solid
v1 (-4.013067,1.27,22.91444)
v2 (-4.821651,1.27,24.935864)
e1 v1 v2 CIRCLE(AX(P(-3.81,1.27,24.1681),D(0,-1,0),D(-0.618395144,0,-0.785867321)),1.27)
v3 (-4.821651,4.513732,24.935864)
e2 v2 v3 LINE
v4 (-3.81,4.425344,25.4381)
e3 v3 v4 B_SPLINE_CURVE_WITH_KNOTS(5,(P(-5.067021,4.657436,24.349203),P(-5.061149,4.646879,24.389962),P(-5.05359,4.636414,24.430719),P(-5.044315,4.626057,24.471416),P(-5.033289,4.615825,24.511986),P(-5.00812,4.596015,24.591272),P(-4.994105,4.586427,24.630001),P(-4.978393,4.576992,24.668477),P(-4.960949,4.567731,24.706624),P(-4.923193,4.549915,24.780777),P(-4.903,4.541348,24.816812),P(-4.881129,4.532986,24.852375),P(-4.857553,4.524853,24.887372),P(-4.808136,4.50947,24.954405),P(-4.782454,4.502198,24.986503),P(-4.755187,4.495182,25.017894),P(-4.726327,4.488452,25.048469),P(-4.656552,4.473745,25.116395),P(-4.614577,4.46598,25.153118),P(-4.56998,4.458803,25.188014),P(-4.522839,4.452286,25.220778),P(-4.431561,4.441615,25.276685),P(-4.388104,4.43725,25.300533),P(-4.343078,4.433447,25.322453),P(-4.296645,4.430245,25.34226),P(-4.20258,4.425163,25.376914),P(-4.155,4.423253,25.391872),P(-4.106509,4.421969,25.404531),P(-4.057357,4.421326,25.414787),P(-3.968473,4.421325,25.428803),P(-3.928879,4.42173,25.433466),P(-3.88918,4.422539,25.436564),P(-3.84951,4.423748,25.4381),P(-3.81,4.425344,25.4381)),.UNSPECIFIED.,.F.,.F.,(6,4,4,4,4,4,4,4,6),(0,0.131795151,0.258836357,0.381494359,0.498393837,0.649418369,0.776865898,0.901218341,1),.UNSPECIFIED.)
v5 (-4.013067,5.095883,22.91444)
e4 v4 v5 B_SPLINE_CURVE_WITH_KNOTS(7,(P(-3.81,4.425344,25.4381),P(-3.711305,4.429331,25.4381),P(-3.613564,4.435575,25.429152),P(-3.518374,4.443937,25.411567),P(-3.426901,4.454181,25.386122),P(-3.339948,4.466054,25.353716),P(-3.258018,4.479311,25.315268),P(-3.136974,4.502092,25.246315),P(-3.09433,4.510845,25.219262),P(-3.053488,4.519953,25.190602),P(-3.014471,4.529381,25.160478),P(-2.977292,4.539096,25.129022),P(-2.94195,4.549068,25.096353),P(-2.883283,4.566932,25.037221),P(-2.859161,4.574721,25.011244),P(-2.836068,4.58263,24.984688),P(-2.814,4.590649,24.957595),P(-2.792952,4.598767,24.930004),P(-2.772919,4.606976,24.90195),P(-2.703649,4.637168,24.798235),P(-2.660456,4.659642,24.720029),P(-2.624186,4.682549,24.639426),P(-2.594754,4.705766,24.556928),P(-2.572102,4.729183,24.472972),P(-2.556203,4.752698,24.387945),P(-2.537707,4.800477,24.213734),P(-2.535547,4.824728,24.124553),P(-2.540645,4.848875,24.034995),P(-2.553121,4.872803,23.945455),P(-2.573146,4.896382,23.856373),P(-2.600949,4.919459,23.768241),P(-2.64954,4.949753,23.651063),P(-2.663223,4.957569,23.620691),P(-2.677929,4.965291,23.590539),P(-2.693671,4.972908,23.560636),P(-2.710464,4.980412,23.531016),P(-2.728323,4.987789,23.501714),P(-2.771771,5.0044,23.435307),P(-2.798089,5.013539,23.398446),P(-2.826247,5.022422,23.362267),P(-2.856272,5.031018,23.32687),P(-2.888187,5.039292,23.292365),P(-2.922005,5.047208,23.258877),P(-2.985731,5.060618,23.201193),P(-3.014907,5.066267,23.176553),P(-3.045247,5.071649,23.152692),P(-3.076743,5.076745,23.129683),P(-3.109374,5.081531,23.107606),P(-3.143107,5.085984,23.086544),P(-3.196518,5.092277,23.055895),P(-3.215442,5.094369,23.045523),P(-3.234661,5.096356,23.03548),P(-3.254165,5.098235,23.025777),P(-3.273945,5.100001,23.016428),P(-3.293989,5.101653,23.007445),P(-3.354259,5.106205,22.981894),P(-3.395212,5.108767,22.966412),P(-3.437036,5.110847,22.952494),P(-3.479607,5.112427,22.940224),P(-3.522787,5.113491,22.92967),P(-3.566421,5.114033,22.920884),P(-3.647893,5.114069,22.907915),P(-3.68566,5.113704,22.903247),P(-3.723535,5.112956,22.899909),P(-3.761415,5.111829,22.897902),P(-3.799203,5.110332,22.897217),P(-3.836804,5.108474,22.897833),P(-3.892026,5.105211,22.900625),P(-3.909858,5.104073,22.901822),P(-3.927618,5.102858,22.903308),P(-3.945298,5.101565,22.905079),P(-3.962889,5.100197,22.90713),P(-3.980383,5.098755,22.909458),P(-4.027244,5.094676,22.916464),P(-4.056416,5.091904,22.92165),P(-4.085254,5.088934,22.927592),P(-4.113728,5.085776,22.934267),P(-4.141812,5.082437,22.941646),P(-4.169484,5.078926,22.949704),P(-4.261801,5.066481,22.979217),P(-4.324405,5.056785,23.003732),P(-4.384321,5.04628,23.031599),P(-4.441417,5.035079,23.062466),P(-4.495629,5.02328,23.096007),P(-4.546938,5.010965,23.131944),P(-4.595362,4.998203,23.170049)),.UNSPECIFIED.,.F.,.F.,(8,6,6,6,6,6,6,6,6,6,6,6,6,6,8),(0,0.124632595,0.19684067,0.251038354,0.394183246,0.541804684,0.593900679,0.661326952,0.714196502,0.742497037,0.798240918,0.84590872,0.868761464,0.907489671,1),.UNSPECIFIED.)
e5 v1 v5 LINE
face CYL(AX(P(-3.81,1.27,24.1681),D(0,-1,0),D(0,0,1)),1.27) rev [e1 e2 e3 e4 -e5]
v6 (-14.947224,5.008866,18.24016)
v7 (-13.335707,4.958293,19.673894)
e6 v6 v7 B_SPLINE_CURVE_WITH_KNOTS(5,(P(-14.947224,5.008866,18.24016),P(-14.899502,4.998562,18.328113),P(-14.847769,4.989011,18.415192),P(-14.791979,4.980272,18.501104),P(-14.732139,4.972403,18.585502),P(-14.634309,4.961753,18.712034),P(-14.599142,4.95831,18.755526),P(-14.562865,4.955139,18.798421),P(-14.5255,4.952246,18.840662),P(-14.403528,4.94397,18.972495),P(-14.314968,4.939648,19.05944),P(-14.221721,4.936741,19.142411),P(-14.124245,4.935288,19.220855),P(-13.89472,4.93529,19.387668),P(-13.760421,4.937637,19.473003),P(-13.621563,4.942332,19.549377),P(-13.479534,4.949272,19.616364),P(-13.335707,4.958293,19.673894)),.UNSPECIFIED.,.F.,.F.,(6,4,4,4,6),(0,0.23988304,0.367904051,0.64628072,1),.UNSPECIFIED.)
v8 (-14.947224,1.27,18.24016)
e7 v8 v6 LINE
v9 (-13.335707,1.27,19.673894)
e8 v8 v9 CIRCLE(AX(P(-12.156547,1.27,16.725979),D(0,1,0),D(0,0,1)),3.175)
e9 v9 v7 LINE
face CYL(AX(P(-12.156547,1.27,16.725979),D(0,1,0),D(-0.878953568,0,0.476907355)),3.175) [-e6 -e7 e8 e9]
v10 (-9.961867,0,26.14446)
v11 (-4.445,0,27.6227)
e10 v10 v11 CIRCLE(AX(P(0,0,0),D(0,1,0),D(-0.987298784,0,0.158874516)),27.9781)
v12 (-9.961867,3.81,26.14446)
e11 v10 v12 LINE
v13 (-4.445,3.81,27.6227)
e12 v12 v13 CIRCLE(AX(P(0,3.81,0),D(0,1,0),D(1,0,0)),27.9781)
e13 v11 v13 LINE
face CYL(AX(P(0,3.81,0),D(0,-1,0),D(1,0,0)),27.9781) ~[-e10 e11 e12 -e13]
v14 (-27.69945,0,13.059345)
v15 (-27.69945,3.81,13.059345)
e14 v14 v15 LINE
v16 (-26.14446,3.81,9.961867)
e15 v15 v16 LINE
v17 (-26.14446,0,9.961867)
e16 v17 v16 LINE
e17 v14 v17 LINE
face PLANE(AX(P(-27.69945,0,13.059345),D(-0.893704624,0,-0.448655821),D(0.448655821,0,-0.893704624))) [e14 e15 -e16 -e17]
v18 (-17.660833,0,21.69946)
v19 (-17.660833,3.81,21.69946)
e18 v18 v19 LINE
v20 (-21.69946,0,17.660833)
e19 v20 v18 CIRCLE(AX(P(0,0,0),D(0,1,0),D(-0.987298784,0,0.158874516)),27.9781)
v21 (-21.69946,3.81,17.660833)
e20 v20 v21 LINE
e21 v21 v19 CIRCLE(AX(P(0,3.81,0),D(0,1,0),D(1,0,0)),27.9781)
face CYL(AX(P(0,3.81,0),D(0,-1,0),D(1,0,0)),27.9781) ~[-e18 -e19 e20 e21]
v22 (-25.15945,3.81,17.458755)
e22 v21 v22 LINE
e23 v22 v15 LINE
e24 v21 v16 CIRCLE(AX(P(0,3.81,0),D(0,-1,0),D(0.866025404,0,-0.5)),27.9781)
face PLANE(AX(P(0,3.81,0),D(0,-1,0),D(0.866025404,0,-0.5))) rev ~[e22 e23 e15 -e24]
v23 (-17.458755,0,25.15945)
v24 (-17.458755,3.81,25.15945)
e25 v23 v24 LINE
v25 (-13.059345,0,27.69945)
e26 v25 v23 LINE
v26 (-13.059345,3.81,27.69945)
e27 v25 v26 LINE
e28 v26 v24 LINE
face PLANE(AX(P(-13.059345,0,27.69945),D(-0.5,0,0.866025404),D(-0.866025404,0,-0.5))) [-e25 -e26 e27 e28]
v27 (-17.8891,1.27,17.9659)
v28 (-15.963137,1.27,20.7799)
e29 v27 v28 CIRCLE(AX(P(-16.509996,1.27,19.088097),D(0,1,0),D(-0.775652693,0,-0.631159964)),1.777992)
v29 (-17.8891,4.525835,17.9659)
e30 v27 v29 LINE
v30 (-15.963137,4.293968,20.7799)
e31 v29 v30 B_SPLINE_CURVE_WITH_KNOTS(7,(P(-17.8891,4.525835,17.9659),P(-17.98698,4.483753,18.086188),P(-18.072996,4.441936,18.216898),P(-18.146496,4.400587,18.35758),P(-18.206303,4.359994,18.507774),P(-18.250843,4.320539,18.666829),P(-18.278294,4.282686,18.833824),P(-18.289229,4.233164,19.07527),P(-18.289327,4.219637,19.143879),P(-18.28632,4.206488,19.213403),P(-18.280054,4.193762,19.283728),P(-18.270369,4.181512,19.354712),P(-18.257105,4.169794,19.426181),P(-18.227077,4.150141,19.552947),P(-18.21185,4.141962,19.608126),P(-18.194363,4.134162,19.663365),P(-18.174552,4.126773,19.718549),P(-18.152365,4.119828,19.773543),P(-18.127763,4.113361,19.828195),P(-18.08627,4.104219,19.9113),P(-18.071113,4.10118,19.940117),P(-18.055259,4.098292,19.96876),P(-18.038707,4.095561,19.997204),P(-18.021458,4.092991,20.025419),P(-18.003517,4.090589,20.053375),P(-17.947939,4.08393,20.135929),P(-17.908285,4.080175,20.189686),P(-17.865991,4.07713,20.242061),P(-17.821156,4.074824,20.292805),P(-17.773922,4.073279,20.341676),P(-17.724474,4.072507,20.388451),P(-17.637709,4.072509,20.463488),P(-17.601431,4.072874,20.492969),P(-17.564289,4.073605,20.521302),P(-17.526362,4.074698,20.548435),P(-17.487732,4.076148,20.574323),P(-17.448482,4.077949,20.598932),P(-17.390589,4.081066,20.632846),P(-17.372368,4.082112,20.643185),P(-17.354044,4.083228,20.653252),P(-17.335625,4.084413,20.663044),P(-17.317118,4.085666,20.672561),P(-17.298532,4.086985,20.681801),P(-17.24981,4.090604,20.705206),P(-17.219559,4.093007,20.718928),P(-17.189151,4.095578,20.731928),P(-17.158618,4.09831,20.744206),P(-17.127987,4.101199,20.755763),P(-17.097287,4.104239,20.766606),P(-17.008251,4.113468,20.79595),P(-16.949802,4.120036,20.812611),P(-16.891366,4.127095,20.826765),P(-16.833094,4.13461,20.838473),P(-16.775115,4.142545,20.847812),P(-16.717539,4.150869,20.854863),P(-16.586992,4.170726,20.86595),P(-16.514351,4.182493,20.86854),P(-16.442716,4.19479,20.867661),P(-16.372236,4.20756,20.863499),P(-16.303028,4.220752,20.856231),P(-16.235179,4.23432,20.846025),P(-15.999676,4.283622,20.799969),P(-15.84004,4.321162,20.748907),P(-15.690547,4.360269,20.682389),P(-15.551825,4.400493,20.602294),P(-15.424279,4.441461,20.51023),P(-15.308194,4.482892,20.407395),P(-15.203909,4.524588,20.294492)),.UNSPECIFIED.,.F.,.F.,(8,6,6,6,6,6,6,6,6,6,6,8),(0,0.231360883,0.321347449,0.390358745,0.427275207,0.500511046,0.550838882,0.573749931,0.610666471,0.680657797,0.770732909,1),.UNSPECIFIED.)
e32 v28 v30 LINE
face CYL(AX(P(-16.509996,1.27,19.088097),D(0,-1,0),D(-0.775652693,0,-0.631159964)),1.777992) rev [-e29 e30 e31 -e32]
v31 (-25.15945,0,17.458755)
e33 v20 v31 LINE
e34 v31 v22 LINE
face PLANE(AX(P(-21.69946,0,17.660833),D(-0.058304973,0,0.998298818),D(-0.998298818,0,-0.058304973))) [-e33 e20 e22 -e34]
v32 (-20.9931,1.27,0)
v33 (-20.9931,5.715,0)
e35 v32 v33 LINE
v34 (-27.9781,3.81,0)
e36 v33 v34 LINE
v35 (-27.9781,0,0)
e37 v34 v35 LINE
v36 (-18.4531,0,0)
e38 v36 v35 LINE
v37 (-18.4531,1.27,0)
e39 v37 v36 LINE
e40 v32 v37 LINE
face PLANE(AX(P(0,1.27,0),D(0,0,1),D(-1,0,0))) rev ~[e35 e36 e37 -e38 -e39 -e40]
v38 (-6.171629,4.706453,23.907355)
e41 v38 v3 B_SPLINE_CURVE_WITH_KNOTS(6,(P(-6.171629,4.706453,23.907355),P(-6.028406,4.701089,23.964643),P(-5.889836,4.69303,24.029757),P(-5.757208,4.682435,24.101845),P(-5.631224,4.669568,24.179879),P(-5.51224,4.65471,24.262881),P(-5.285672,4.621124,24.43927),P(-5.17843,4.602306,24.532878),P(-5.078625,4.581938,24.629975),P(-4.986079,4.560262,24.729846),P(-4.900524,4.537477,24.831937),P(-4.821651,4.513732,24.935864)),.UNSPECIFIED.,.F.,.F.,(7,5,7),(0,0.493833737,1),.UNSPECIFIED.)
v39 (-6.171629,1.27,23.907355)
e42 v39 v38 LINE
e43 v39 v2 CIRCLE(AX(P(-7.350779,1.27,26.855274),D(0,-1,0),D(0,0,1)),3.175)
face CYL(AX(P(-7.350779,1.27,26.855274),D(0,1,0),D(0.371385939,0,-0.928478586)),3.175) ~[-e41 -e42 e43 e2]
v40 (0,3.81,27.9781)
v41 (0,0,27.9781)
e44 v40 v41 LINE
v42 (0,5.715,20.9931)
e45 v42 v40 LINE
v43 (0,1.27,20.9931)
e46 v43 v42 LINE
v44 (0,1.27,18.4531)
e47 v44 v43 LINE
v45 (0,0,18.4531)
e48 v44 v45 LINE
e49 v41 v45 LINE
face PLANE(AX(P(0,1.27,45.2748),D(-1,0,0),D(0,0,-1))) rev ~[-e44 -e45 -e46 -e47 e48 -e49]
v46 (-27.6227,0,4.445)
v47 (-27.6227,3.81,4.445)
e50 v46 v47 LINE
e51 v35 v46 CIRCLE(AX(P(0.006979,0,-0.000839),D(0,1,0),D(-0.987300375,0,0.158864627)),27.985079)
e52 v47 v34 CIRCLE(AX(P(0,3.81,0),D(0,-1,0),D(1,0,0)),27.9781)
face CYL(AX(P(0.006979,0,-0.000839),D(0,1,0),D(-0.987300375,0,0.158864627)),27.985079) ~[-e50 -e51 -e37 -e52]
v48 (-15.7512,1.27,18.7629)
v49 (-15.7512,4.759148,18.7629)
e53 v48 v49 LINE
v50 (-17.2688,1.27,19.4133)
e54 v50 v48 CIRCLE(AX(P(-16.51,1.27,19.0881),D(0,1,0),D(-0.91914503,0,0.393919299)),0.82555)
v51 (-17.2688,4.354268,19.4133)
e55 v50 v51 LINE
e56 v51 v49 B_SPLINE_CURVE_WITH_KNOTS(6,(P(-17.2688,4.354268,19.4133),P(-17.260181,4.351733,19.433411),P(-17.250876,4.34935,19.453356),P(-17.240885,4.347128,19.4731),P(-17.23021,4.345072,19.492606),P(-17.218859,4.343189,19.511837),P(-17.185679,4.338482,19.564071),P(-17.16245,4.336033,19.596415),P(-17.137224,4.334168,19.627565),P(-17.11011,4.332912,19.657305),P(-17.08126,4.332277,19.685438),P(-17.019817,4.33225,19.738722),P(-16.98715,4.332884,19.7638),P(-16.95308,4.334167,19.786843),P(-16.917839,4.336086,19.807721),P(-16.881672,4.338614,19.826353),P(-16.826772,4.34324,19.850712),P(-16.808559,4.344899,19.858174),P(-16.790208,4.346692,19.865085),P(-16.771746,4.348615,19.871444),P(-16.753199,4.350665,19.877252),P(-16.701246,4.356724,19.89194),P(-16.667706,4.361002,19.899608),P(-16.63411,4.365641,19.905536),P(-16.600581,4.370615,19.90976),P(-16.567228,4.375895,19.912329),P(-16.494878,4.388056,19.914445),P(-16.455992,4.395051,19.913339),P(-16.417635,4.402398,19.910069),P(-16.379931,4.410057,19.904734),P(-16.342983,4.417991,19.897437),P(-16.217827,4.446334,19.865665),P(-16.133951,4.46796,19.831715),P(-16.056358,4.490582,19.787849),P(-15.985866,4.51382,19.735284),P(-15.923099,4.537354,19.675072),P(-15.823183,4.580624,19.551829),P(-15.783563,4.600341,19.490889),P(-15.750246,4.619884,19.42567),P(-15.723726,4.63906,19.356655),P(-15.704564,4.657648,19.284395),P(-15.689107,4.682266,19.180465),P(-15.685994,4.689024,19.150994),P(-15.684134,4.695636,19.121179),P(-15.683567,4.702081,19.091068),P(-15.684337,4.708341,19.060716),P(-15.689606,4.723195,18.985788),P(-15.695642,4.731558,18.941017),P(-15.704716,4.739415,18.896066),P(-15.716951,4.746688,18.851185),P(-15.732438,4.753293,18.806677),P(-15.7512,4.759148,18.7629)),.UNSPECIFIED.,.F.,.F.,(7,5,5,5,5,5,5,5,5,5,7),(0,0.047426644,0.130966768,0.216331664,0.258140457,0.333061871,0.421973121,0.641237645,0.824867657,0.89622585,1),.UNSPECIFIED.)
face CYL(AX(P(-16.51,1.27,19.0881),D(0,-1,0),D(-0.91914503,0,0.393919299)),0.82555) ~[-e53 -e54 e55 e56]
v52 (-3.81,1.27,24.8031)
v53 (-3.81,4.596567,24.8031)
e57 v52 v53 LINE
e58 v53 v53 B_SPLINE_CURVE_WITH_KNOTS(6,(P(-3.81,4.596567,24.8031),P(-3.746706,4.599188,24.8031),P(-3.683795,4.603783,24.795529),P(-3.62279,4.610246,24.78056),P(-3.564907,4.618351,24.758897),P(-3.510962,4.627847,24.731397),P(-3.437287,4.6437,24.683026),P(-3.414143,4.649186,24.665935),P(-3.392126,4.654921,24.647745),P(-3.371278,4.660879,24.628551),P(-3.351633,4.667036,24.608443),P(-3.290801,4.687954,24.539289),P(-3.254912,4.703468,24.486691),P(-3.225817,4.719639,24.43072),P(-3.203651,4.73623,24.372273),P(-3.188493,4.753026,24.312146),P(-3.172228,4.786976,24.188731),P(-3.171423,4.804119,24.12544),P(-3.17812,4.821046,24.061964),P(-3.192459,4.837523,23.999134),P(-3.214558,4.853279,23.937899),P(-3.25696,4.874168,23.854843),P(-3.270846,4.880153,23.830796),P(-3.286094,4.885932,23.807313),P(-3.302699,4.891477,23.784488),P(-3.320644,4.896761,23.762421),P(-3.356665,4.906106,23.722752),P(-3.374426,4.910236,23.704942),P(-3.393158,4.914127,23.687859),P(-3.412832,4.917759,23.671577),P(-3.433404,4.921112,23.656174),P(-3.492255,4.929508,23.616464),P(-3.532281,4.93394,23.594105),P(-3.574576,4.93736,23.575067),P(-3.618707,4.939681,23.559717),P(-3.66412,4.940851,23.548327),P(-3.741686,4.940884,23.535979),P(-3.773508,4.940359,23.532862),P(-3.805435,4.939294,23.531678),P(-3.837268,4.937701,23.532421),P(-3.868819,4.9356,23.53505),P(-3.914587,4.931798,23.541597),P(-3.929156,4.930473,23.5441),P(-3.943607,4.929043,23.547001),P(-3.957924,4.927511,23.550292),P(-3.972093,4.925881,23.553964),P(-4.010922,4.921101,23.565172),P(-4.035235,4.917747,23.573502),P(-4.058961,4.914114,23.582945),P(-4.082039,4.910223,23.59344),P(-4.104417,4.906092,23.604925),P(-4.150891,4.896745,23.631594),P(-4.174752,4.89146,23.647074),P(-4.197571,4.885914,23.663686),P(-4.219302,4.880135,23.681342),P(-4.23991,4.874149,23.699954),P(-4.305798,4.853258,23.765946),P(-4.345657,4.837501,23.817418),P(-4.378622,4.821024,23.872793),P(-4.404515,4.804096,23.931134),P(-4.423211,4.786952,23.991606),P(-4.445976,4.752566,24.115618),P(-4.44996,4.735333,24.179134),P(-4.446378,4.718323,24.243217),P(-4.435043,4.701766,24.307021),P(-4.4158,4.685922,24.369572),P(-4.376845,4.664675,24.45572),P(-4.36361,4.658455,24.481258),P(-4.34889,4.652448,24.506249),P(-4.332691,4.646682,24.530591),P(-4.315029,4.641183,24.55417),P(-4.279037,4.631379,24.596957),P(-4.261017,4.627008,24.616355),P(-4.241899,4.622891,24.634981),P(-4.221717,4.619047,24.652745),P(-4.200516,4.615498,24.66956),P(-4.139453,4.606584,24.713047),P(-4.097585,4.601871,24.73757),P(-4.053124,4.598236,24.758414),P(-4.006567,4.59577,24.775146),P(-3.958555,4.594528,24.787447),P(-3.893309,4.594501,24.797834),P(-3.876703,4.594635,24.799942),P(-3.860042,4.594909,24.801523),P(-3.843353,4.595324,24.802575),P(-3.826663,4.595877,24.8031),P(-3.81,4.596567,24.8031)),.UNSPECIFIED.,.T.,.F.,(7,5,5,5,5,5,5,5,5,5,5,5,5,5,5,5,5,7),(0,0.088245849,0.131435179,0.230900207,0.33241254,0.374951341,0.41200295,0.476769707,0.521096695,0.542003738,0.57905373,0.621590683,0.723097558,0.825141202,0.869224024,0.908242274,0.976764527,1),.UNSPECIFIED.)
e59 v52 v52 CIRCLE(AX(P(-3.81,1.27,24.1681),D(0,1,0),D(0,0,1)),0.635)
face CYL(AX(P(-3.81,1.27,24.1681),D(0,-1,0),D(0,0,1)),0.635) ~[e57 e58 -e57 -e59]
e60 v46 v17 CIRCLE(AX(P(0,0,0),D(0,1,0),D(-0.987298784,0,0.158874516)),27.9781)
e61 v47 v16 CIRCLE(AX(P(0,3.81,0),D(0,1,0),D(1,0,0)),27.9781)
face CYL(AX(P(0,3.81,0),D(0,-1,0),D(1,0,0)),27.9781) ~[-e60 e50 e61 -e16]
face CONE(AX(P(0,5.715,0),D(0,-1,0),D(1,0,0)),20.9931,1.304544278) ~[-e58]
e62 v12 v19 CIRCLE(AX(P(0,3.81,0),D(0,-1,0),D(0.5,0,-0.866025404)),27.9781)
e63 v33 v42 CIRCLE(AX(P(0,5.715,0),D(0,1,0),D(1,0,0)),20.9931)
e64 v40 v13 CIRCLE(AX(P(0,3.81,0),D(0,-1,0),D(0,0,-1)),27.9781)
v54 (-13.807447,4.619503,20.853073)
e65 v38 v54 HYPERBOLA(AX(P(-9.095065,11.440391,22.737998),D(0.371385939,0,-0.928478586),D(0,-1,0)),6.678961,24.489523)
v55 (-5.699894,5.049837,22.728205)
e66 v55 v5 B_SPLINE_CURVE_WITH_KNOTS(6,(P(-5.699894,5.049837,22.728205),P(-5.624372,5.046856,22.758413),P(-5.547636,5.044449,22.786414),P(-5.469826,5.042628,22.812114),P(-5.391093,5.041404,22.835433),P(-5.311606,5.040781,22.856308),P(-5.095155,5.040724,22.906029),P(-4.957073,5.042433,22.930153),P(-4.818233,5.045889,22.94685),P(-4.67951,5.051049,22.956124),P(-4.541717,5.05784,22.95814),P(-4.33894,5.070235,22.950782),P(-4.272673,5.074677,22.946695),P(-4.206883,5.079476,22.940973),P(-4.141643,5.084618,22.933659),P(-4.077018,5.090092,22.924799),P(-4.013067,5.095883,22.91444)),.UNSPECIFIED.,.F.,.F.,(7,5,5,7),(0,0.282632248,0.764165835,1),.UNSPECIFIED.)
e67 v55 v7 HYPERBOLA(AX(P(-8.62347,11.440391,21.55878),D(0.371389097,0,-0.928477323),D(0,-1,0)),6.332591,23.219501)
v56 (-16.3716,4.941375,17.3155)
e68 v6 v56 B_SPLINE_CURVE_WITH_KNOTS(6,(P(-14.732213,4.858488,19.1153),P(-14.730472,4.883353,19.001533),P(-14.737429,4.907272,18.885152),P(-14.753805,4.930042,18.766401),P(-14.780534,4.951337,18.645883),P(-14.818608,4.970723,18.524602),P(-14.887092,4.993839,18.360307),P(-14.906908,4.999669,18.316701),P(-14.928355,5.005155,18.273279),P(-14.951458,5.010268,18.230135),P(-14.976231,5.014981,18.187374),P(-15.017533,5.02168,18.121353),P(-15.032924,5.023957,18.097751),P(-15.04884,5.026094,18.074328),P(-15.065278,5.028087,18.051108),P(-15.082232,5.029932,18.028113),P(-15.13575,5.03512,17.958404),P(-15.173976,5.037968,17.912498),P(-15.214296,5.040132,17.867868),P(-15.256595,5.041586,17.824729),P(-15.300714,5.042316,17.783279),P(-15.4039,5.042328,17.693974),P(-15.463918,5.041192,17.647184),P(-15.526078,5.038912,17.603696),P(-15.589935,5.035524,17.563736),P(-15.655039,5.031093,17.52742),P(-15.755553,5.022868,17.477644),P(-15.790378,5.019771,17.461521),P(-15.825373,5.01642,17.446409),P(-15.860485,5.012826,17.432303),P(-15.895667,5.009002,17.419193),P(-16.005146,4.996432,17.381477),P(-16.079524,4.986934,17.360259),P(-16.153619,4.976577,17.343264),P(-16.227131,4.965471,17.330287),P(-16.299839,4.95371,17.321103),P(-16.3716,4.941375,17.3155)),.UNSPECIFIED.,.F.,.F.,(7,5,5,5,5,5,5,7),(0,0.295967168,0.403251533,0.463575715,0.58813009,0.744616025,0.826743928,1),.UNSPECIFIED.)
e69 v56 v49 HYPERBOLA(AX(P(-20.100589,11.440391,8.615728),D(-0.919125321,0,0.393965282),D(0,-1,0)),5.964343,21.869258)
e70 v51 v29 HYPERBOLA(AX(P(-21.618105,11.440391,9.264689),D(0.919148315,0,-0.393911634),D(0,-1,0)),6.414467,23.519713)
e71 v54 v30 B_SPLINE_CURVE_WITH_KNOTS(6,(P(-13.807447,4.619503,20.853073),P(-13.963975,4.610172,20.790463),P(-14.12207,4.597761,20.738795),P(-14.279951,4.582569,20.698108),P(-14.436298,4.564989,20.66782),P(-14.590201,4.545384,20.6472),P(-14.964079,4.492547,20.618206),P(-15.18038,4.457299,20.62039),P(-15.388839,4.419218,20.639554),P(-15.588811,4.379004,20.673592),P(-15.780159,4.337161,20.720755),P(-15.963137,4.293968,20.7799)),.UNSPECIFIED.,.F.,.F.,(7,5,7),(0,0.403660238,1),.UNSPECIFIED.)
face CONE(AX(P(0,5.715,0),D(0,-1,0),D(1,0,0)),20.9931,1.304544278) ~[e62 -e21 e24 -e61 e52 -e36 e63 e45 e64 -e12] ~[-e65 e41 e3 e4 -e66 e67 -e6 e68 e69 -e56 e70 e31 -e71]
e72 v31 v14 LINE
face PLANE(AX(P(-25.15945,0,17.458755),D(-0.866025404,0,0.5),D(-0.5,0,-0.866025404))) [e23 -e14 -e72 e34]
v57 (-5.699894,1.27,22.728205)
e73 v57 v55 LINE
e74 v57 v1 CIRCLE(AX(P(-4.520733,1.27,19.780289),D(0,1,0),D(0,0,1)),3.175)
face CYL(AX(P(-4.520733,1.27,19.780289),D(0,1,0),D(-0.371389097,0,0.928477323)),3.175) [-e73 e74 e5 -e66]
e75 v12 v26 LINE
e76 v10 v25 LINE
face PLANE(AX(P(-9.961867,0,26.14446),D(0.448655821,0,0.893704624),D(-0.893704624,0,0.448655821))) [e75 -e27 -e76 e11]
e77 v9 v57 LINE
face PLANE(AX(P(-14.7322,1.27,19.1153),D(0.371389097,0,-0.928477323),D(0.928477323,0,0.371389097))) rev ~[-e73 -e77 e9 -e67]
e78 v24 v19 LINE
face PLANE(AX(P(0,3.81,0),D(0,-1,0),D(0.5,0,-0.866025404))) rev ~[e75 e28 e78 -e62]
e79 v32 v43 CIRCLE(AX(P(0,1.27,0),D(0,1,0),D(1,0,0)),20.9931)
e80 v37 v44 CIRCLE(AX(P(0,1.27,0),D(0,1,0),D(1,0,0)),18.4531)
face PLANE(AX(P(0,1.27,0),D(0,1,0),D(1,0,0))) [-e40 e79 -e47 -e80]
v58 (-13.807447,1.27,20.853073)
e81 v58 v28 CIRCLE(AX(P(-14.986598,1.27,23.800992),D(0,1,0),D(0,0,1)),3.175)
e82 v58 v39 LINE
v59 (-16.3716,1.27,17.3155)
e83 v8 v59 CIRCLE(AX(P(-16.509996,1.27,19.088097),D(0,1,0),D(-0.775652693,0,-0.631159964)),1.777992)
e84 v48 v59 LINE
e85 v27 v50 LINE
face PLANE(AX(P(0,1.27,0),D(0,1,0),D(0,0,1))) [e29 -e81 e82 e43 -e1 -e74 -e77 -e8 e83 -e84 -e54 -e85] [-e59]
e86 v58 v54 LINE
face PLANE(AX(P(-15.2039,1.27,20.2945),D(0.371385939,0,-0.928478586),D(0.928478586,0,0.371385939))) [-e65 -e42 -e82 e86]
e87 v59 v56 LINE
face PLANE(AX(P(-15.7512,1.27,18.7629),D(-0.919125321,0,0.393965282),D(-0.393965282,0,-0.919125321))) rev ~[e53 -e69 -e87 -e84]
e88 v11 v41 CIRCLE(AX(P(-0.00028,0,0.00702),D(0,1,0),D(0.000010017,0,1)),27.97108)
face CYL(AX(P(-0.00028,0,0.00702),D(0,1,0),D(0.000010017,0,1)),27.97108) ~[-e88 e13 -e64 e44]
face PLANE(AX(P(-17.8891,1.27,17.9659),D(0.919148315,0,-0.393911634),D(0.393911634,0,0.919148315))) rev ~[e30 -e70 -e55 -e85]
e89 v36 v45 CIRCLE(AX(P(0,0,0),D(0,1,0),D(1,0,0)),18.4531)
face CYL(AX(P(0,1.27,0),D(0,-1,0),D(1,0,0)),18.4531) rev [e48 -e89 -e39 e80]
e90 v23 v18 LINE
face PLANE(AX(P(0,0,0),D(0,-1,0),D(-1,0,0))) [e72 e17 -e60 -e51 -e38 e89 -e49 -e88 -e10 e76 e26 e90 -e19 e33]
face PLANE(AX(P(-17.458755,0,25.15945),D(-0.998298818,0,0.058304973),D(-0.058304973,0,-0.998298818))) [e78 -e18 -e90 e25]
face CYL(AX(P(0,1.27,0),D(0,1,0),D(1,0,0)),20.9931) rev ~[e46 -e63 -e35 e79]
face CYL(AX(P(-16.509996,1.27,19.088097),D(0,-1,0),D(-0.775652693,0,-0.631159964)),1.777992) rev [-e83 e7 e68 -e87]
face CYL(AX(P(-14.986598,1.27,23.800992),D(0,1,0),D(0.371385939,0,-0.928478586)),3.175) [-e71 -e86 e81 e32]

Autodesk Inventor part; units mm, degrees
ref_plane "YZ Plane" through (0, 0, 0) normal (1, 0, 0) x (0, 1, 0)
ref_plane "XZ Plane" through (0, 0, 0) normal (0, 1, 0) x (-1, 0, 0)
sketch "Sketch1" plane through (0, 0, 0) normal (0, 0, 1) x (1, 0, 0)
  line L0 (0, 0) -> (0, 8.6646) construction
  line L1 (20.9931, 1.27) -> (20.9931, 5.715)
  line L2 (20.9931, 5.715) -> (27.9781, 3.81)
  line L3 (27.9781, 3.81) -> (27.9781, 0)
  line L4 (27.9781, 0) -> (20.9931, 0)
  line L5 (20.9931, 1.27) -> (18.4531, 1.27)
  line L6 (18.4531, 1.27) -> (18.4531, 0)
  line L7 (18.4531, 0) -> (20.9931, 0)
  dimension "d0" = 20.9931
  dimension "d1" = 4.445
  dimension "d2" = 1.27
  dimension "d3" = 2.54
  dimension "d4" = 3.81
  dimension "d5" = 6.985
revolve "Revolution1" add sketch "Sketch1" angle 360 about axis through (0, 0, 0) along (0, 1, 0)
ref_plane "Work Plane1" through (0, 3.81, 0) normal (0, 1, 0) x (1, 0, 0)
sketch "Sketch2" plane through (0, 0, 0) normal (0, -1, 0) x (1, 0, 0)
  line L0 (0, 0) -> (-45.8206, 0) construction
  circle A0 centre (0, 0) radius 27.9781 projected
  line L1 (-27.6227, 4.445) -> (-30.5181, 2.54)
  line L2 (-30.5181, 2.54) -> (-30.5181, -2.54)
  line L3 (-30.5181, -2.54) -> (-27.6227, -4.445)
  dimension "d7" = 2.54
  dimension "d8" = 8.89
  dimension "d9" = 5.08
extrude "Extrusion1" add sketch "Sketch2" against normal up to surface (3.81 mm away) contours A0 L3 L2 L1
pattern_circular "Circular Pattern1" count 12 over 360 about axis through (0, 1.905, 0) along (0, -1, 0) of "Extrusion1"
sketch "Sketch4" plane through (0, 1.27, 0) normal (0, 1, 0) x (1, 0, 0)
  circle A0 centre (0, 0) radius 20.9931 projected
  arc A1 (-26.1445, 9.9619) -> (-27.6227, 4.445) centre (0, 0) ccw projected
  arc A2 (-27.6227, 4.445) -> (-27.6227, -4.445) centre (0, 0) ccw projected
  arc A3 (-27.6227, -4.445) -> (-26.1445, -9.9619) centre (0, 0) ccw projected
  arc A4 (-26.1445, -9.9619) -> (-21.6995, -17.6609) centre (0, 0) ccw projected
  arc A5 (-21.6995, -17.6609) -> (-17.6609, -21.6995) centre (0, 0) ccw projected
  arc A6 (-17.6609, -21.6995) -> (-9.9619, -26.1445) centre (0, 0) ccw projected
  arc A7 (-9.9619, -26.1445) -> (-4.445, -27.6227) centre (0, 0) ccw projected
  arc A8 (-4.445, -27.6227) -> (4.445, -27.6227) centre (0, 0) ccw projected
  arc A9 (4.445, -27.6227) -> (9.9619, -26.1445) centre (0, 0) ccw projected
  arc A10 (9.9619, -26.1445) -> (17.6609, -21.6995) centre (0, 0) ccw projected
  arc A11 (17.6609, -21.6995) -> (21.6995, -17.6609) centre (0, 0) ccw projected
  arc A12 (21.6995, -17.6609) -> (26.1445, -9.9619) centre (0, 0) ccw projected
  arc A13 (26.1445, -9.9619) -> (27.6227, -4.445) centre (0, 0) ccw projected
  arc A14 (27.6227, -4.445) -> (27.6227, 4.445) centre (0, 0) ccw projected
  arc A15 (27.6227, 4.445) -> (26.1445, 9.9619) centre (0, 0) ccw projected
  arc A16 (26.1445, 9.9619) -> (21.6995, 17.6609) centre (0, 0) ccw projected
  arc A17 (21.6995, 17.6609) -> (17.6609, 21.6995) centre (0, 0) ccw projected
  arc A18 (17.6609, 21.6995) -> (9.9619, 26.1445) centre (0, 0) ccw projected
  arc A19 (9.9619, 26.1445) -> (4.445, 27.6227) centre (0, 0) ccw projected
  arc A20 (4.445, 27.6227) -> (-4.445, 27.6227) centre (0, 0) ccw projected
  arc A21 (-4.445, 27.6227) -> (-9.9619, 26.1445) centre (0, 0) ccw projected
  arc A22 (-9.9619, 26.1445) -> (-17.6609, 21.6995) centre (0, 0) ccw projected
  arc A23 (-17.6609, 21.6995) -> (-21.6995, 17.6609) centre (0, 0) ccw projected
  arc A24 (-21.6995, 17.6609) -> (-26.1445, 9.9619) centre (0, 0) ccw projected
  circle A25 centre (0, 0) radius 18.4531 projected
  circle A26 centre (0, 0) radius 20.9931 projected
  circle A27 centre (24.1681, -3.81) radius 1.27
  circle A28 centre (24.1681, -3.81) radius 0.635
  line L0 (30.5181, 2.54) -> (30.5181, -2.54) projected
  arc A29 (17.9659, -17.8891) -> (17.3155, -16.3716) centre (19.0881, -16.51) ccw
  line L1 (19.0881, -16.51) -> (15.2571, -18.1519) construction
  line L2 (18.7629, -15.7512) -> (17.3155, -16.3716)
  line L3 (17.9659, -17.8891) -> (19.4133, -17.2688)
  arc A30 (19.4133, -17.2688) -> (18.7629, -15.7512) centre (19.0881, -16.51) ccw
  line L4 (19.0881, -16.51) -> (24.1681, -3.81) construction
  line L5 (19.1153, -14.7322) -> (23.17, -4.5954)
  line L6 (20.2945, -15.2039) -> (24.3492, -5.067)
  point P0 (17.1726, -17.3309)
  dimension "d19" = 2.54
  dimension "d20" = 0.635
  dimension "d22" = 3.81
  dimension "d23" = 6.35
  dimension "d24" = 3.556
  dimension "d25" = 135
  dimension "d26" = 1.27
  dimension "d27" = 0.635
  dimension "d28" = 12.7
  dimension "d29" = 5.08
  dimension "d30" = 1.651
extrude "Extrusion3" cut sketch "Sketch4" along normal through all contours A27 | A27 L6 A29 L5 | A29 L3 A30 L2
fillet "Fillet1" radius 3.175 4 edges at (19.1153, 3.0642, 14.7322) (20.2945, 2.8973, 15.2039) (23.17, 3.1341, 4.5954) (24.3492, 2.9637, 5.067)
pattern_circular "Circular Pattern2" count 3 over 90 about axis through (0, 3.4925, 0) along (0, -1, 0) of "Extrusion3", "Fillet1"
mirror "Mirror1" about plane through (0, 0, 0) normal (0, 0, 1) of "Extrusion3", "Fillet1", "Circular Pattern2"
sketch "Sketch5" plane through (0, 1.27, 0) normal (0, 1, 0) x (1, 0, 0)
  line L0 (0, 0) -> (-35.8156, 0)
  line L1 (-35.8156, 0) -> (-35.8156, -45.2748)
  line L2 (-35.8156, -45.2748) -> (0, -45.2748)
  line L3 (0, -45.2748) -> (0, 0)
extrude "Extrusion4" cut sketch "Sketch5" along normal through all both and the other way through all keep common part
sketch "Sketch6" plane through (-2.54, 0, 30.5181) normal (0, -1, 0) x (1, 0, 0)
  line L0 (2.54, -9.525) -> (2.54, -2.54) projected
  arc A0 (2.54, -9.525) -> (-18.4531, -30.5181) centre (2.54, -30.5181) ccw projected
  line L1 (-25.4381, -30.5181) -> (-18.4531, -30.5181) projected
  arc A1 (-25.0827, -26.0731) -> (-25.4381, -30.5181) centre (2.54, -30.5181) ccw projected
  arc A2 (-23.6045, -20.5562) -> (-25.0827, -26.0731) centre (2.54, -30.5181) ccw projected
  arc A3 (-19.1595, -12.8572) -> (-23.6045, -20.5562) centre (2.54, -30.5181) ccw projected
  arc A4 (-15.1209, -8.8186) -> (-19.1595, -12.8572) centre (2.54, -30.5181) ccw projected
  arc A5 (-7.4219, -4.3736) -> (-15.1209, -8.8186) centre (2.54, -30.5181) ccw projected
  arc A6 (-1.905, -2.8954) -> (-7.4219, -4.3736) centre (2.54, -30.5181) ccw projected
  arc A7 (2.54, -2.54) -> (-1.905, -2.8954) centre (2.54, -30.5181) ccw projected
  line L2 (-3.6316, -6.6107) -> (-11.2674, -9.665) projected
  line L3 (-15.3491, -12.5522) -> (-14.7288, -11.1048) projected
  line L4 (-13.2112, -11.7552) -> (-13.8316, -13.2026) projected
  line L5 (-10.7957, -10.8442) -> (-3.1599, -7.7899) projected
  arc A8 (-23.6045, -20.5562) -> (-25.0827, -26.0731) centre (2.54, -30.5181) ccw projected
  line L6 (-25.0827, -26.0731) -> (-30.8234, -26.6683)
  line L7 (-30.8234, -26.6683) -> (-31.3133, -31.1273)
  line L8 (-31.3133, -31.1273) -> (-25.4381, -30.5181)
  line L9 (2.54, -2.54) -> (2.54, 0) projected
  arc A9 (2.54, -2.54) -> (-1.905, -2.8954) centre (2.54, -30.5181) ccw projected
  arc A10 (2.54, -2.54) -> (-1.905, -2.8954) centre (2.54, -30.5181) ccw
  line L10 (-1.905, -2.8954) -> (-3.1599, 4.5152)
  line L11 (-3.1599, 4.5152) -> (4.4262, 3.6816)
  line L12 (4.4262, 3.6816) -> (2.54, -2.54)
  point P0 (-2.2816, -5.5822)
  point P1 (-13.4231, -9.7382)
  point P2 (-12.4072, -12.2779)
  point P3 (-1.4731, -7.6037)
extrude "Extrusion5" cut sketch "Sketch6" along normal through all both and the other way through all contours A7 L10 L11 L12 | L8 L7 L6 A1
sketch "Sketch7" plane through (-20.9931, 1.27, 0) normal (0, 1, 0) x (1, 0, 0)
  point P0 (20.9931, 0)
equation "\"d27\" = 0.5 * d26"
properties part number "Mentor-Mechanical ring"
